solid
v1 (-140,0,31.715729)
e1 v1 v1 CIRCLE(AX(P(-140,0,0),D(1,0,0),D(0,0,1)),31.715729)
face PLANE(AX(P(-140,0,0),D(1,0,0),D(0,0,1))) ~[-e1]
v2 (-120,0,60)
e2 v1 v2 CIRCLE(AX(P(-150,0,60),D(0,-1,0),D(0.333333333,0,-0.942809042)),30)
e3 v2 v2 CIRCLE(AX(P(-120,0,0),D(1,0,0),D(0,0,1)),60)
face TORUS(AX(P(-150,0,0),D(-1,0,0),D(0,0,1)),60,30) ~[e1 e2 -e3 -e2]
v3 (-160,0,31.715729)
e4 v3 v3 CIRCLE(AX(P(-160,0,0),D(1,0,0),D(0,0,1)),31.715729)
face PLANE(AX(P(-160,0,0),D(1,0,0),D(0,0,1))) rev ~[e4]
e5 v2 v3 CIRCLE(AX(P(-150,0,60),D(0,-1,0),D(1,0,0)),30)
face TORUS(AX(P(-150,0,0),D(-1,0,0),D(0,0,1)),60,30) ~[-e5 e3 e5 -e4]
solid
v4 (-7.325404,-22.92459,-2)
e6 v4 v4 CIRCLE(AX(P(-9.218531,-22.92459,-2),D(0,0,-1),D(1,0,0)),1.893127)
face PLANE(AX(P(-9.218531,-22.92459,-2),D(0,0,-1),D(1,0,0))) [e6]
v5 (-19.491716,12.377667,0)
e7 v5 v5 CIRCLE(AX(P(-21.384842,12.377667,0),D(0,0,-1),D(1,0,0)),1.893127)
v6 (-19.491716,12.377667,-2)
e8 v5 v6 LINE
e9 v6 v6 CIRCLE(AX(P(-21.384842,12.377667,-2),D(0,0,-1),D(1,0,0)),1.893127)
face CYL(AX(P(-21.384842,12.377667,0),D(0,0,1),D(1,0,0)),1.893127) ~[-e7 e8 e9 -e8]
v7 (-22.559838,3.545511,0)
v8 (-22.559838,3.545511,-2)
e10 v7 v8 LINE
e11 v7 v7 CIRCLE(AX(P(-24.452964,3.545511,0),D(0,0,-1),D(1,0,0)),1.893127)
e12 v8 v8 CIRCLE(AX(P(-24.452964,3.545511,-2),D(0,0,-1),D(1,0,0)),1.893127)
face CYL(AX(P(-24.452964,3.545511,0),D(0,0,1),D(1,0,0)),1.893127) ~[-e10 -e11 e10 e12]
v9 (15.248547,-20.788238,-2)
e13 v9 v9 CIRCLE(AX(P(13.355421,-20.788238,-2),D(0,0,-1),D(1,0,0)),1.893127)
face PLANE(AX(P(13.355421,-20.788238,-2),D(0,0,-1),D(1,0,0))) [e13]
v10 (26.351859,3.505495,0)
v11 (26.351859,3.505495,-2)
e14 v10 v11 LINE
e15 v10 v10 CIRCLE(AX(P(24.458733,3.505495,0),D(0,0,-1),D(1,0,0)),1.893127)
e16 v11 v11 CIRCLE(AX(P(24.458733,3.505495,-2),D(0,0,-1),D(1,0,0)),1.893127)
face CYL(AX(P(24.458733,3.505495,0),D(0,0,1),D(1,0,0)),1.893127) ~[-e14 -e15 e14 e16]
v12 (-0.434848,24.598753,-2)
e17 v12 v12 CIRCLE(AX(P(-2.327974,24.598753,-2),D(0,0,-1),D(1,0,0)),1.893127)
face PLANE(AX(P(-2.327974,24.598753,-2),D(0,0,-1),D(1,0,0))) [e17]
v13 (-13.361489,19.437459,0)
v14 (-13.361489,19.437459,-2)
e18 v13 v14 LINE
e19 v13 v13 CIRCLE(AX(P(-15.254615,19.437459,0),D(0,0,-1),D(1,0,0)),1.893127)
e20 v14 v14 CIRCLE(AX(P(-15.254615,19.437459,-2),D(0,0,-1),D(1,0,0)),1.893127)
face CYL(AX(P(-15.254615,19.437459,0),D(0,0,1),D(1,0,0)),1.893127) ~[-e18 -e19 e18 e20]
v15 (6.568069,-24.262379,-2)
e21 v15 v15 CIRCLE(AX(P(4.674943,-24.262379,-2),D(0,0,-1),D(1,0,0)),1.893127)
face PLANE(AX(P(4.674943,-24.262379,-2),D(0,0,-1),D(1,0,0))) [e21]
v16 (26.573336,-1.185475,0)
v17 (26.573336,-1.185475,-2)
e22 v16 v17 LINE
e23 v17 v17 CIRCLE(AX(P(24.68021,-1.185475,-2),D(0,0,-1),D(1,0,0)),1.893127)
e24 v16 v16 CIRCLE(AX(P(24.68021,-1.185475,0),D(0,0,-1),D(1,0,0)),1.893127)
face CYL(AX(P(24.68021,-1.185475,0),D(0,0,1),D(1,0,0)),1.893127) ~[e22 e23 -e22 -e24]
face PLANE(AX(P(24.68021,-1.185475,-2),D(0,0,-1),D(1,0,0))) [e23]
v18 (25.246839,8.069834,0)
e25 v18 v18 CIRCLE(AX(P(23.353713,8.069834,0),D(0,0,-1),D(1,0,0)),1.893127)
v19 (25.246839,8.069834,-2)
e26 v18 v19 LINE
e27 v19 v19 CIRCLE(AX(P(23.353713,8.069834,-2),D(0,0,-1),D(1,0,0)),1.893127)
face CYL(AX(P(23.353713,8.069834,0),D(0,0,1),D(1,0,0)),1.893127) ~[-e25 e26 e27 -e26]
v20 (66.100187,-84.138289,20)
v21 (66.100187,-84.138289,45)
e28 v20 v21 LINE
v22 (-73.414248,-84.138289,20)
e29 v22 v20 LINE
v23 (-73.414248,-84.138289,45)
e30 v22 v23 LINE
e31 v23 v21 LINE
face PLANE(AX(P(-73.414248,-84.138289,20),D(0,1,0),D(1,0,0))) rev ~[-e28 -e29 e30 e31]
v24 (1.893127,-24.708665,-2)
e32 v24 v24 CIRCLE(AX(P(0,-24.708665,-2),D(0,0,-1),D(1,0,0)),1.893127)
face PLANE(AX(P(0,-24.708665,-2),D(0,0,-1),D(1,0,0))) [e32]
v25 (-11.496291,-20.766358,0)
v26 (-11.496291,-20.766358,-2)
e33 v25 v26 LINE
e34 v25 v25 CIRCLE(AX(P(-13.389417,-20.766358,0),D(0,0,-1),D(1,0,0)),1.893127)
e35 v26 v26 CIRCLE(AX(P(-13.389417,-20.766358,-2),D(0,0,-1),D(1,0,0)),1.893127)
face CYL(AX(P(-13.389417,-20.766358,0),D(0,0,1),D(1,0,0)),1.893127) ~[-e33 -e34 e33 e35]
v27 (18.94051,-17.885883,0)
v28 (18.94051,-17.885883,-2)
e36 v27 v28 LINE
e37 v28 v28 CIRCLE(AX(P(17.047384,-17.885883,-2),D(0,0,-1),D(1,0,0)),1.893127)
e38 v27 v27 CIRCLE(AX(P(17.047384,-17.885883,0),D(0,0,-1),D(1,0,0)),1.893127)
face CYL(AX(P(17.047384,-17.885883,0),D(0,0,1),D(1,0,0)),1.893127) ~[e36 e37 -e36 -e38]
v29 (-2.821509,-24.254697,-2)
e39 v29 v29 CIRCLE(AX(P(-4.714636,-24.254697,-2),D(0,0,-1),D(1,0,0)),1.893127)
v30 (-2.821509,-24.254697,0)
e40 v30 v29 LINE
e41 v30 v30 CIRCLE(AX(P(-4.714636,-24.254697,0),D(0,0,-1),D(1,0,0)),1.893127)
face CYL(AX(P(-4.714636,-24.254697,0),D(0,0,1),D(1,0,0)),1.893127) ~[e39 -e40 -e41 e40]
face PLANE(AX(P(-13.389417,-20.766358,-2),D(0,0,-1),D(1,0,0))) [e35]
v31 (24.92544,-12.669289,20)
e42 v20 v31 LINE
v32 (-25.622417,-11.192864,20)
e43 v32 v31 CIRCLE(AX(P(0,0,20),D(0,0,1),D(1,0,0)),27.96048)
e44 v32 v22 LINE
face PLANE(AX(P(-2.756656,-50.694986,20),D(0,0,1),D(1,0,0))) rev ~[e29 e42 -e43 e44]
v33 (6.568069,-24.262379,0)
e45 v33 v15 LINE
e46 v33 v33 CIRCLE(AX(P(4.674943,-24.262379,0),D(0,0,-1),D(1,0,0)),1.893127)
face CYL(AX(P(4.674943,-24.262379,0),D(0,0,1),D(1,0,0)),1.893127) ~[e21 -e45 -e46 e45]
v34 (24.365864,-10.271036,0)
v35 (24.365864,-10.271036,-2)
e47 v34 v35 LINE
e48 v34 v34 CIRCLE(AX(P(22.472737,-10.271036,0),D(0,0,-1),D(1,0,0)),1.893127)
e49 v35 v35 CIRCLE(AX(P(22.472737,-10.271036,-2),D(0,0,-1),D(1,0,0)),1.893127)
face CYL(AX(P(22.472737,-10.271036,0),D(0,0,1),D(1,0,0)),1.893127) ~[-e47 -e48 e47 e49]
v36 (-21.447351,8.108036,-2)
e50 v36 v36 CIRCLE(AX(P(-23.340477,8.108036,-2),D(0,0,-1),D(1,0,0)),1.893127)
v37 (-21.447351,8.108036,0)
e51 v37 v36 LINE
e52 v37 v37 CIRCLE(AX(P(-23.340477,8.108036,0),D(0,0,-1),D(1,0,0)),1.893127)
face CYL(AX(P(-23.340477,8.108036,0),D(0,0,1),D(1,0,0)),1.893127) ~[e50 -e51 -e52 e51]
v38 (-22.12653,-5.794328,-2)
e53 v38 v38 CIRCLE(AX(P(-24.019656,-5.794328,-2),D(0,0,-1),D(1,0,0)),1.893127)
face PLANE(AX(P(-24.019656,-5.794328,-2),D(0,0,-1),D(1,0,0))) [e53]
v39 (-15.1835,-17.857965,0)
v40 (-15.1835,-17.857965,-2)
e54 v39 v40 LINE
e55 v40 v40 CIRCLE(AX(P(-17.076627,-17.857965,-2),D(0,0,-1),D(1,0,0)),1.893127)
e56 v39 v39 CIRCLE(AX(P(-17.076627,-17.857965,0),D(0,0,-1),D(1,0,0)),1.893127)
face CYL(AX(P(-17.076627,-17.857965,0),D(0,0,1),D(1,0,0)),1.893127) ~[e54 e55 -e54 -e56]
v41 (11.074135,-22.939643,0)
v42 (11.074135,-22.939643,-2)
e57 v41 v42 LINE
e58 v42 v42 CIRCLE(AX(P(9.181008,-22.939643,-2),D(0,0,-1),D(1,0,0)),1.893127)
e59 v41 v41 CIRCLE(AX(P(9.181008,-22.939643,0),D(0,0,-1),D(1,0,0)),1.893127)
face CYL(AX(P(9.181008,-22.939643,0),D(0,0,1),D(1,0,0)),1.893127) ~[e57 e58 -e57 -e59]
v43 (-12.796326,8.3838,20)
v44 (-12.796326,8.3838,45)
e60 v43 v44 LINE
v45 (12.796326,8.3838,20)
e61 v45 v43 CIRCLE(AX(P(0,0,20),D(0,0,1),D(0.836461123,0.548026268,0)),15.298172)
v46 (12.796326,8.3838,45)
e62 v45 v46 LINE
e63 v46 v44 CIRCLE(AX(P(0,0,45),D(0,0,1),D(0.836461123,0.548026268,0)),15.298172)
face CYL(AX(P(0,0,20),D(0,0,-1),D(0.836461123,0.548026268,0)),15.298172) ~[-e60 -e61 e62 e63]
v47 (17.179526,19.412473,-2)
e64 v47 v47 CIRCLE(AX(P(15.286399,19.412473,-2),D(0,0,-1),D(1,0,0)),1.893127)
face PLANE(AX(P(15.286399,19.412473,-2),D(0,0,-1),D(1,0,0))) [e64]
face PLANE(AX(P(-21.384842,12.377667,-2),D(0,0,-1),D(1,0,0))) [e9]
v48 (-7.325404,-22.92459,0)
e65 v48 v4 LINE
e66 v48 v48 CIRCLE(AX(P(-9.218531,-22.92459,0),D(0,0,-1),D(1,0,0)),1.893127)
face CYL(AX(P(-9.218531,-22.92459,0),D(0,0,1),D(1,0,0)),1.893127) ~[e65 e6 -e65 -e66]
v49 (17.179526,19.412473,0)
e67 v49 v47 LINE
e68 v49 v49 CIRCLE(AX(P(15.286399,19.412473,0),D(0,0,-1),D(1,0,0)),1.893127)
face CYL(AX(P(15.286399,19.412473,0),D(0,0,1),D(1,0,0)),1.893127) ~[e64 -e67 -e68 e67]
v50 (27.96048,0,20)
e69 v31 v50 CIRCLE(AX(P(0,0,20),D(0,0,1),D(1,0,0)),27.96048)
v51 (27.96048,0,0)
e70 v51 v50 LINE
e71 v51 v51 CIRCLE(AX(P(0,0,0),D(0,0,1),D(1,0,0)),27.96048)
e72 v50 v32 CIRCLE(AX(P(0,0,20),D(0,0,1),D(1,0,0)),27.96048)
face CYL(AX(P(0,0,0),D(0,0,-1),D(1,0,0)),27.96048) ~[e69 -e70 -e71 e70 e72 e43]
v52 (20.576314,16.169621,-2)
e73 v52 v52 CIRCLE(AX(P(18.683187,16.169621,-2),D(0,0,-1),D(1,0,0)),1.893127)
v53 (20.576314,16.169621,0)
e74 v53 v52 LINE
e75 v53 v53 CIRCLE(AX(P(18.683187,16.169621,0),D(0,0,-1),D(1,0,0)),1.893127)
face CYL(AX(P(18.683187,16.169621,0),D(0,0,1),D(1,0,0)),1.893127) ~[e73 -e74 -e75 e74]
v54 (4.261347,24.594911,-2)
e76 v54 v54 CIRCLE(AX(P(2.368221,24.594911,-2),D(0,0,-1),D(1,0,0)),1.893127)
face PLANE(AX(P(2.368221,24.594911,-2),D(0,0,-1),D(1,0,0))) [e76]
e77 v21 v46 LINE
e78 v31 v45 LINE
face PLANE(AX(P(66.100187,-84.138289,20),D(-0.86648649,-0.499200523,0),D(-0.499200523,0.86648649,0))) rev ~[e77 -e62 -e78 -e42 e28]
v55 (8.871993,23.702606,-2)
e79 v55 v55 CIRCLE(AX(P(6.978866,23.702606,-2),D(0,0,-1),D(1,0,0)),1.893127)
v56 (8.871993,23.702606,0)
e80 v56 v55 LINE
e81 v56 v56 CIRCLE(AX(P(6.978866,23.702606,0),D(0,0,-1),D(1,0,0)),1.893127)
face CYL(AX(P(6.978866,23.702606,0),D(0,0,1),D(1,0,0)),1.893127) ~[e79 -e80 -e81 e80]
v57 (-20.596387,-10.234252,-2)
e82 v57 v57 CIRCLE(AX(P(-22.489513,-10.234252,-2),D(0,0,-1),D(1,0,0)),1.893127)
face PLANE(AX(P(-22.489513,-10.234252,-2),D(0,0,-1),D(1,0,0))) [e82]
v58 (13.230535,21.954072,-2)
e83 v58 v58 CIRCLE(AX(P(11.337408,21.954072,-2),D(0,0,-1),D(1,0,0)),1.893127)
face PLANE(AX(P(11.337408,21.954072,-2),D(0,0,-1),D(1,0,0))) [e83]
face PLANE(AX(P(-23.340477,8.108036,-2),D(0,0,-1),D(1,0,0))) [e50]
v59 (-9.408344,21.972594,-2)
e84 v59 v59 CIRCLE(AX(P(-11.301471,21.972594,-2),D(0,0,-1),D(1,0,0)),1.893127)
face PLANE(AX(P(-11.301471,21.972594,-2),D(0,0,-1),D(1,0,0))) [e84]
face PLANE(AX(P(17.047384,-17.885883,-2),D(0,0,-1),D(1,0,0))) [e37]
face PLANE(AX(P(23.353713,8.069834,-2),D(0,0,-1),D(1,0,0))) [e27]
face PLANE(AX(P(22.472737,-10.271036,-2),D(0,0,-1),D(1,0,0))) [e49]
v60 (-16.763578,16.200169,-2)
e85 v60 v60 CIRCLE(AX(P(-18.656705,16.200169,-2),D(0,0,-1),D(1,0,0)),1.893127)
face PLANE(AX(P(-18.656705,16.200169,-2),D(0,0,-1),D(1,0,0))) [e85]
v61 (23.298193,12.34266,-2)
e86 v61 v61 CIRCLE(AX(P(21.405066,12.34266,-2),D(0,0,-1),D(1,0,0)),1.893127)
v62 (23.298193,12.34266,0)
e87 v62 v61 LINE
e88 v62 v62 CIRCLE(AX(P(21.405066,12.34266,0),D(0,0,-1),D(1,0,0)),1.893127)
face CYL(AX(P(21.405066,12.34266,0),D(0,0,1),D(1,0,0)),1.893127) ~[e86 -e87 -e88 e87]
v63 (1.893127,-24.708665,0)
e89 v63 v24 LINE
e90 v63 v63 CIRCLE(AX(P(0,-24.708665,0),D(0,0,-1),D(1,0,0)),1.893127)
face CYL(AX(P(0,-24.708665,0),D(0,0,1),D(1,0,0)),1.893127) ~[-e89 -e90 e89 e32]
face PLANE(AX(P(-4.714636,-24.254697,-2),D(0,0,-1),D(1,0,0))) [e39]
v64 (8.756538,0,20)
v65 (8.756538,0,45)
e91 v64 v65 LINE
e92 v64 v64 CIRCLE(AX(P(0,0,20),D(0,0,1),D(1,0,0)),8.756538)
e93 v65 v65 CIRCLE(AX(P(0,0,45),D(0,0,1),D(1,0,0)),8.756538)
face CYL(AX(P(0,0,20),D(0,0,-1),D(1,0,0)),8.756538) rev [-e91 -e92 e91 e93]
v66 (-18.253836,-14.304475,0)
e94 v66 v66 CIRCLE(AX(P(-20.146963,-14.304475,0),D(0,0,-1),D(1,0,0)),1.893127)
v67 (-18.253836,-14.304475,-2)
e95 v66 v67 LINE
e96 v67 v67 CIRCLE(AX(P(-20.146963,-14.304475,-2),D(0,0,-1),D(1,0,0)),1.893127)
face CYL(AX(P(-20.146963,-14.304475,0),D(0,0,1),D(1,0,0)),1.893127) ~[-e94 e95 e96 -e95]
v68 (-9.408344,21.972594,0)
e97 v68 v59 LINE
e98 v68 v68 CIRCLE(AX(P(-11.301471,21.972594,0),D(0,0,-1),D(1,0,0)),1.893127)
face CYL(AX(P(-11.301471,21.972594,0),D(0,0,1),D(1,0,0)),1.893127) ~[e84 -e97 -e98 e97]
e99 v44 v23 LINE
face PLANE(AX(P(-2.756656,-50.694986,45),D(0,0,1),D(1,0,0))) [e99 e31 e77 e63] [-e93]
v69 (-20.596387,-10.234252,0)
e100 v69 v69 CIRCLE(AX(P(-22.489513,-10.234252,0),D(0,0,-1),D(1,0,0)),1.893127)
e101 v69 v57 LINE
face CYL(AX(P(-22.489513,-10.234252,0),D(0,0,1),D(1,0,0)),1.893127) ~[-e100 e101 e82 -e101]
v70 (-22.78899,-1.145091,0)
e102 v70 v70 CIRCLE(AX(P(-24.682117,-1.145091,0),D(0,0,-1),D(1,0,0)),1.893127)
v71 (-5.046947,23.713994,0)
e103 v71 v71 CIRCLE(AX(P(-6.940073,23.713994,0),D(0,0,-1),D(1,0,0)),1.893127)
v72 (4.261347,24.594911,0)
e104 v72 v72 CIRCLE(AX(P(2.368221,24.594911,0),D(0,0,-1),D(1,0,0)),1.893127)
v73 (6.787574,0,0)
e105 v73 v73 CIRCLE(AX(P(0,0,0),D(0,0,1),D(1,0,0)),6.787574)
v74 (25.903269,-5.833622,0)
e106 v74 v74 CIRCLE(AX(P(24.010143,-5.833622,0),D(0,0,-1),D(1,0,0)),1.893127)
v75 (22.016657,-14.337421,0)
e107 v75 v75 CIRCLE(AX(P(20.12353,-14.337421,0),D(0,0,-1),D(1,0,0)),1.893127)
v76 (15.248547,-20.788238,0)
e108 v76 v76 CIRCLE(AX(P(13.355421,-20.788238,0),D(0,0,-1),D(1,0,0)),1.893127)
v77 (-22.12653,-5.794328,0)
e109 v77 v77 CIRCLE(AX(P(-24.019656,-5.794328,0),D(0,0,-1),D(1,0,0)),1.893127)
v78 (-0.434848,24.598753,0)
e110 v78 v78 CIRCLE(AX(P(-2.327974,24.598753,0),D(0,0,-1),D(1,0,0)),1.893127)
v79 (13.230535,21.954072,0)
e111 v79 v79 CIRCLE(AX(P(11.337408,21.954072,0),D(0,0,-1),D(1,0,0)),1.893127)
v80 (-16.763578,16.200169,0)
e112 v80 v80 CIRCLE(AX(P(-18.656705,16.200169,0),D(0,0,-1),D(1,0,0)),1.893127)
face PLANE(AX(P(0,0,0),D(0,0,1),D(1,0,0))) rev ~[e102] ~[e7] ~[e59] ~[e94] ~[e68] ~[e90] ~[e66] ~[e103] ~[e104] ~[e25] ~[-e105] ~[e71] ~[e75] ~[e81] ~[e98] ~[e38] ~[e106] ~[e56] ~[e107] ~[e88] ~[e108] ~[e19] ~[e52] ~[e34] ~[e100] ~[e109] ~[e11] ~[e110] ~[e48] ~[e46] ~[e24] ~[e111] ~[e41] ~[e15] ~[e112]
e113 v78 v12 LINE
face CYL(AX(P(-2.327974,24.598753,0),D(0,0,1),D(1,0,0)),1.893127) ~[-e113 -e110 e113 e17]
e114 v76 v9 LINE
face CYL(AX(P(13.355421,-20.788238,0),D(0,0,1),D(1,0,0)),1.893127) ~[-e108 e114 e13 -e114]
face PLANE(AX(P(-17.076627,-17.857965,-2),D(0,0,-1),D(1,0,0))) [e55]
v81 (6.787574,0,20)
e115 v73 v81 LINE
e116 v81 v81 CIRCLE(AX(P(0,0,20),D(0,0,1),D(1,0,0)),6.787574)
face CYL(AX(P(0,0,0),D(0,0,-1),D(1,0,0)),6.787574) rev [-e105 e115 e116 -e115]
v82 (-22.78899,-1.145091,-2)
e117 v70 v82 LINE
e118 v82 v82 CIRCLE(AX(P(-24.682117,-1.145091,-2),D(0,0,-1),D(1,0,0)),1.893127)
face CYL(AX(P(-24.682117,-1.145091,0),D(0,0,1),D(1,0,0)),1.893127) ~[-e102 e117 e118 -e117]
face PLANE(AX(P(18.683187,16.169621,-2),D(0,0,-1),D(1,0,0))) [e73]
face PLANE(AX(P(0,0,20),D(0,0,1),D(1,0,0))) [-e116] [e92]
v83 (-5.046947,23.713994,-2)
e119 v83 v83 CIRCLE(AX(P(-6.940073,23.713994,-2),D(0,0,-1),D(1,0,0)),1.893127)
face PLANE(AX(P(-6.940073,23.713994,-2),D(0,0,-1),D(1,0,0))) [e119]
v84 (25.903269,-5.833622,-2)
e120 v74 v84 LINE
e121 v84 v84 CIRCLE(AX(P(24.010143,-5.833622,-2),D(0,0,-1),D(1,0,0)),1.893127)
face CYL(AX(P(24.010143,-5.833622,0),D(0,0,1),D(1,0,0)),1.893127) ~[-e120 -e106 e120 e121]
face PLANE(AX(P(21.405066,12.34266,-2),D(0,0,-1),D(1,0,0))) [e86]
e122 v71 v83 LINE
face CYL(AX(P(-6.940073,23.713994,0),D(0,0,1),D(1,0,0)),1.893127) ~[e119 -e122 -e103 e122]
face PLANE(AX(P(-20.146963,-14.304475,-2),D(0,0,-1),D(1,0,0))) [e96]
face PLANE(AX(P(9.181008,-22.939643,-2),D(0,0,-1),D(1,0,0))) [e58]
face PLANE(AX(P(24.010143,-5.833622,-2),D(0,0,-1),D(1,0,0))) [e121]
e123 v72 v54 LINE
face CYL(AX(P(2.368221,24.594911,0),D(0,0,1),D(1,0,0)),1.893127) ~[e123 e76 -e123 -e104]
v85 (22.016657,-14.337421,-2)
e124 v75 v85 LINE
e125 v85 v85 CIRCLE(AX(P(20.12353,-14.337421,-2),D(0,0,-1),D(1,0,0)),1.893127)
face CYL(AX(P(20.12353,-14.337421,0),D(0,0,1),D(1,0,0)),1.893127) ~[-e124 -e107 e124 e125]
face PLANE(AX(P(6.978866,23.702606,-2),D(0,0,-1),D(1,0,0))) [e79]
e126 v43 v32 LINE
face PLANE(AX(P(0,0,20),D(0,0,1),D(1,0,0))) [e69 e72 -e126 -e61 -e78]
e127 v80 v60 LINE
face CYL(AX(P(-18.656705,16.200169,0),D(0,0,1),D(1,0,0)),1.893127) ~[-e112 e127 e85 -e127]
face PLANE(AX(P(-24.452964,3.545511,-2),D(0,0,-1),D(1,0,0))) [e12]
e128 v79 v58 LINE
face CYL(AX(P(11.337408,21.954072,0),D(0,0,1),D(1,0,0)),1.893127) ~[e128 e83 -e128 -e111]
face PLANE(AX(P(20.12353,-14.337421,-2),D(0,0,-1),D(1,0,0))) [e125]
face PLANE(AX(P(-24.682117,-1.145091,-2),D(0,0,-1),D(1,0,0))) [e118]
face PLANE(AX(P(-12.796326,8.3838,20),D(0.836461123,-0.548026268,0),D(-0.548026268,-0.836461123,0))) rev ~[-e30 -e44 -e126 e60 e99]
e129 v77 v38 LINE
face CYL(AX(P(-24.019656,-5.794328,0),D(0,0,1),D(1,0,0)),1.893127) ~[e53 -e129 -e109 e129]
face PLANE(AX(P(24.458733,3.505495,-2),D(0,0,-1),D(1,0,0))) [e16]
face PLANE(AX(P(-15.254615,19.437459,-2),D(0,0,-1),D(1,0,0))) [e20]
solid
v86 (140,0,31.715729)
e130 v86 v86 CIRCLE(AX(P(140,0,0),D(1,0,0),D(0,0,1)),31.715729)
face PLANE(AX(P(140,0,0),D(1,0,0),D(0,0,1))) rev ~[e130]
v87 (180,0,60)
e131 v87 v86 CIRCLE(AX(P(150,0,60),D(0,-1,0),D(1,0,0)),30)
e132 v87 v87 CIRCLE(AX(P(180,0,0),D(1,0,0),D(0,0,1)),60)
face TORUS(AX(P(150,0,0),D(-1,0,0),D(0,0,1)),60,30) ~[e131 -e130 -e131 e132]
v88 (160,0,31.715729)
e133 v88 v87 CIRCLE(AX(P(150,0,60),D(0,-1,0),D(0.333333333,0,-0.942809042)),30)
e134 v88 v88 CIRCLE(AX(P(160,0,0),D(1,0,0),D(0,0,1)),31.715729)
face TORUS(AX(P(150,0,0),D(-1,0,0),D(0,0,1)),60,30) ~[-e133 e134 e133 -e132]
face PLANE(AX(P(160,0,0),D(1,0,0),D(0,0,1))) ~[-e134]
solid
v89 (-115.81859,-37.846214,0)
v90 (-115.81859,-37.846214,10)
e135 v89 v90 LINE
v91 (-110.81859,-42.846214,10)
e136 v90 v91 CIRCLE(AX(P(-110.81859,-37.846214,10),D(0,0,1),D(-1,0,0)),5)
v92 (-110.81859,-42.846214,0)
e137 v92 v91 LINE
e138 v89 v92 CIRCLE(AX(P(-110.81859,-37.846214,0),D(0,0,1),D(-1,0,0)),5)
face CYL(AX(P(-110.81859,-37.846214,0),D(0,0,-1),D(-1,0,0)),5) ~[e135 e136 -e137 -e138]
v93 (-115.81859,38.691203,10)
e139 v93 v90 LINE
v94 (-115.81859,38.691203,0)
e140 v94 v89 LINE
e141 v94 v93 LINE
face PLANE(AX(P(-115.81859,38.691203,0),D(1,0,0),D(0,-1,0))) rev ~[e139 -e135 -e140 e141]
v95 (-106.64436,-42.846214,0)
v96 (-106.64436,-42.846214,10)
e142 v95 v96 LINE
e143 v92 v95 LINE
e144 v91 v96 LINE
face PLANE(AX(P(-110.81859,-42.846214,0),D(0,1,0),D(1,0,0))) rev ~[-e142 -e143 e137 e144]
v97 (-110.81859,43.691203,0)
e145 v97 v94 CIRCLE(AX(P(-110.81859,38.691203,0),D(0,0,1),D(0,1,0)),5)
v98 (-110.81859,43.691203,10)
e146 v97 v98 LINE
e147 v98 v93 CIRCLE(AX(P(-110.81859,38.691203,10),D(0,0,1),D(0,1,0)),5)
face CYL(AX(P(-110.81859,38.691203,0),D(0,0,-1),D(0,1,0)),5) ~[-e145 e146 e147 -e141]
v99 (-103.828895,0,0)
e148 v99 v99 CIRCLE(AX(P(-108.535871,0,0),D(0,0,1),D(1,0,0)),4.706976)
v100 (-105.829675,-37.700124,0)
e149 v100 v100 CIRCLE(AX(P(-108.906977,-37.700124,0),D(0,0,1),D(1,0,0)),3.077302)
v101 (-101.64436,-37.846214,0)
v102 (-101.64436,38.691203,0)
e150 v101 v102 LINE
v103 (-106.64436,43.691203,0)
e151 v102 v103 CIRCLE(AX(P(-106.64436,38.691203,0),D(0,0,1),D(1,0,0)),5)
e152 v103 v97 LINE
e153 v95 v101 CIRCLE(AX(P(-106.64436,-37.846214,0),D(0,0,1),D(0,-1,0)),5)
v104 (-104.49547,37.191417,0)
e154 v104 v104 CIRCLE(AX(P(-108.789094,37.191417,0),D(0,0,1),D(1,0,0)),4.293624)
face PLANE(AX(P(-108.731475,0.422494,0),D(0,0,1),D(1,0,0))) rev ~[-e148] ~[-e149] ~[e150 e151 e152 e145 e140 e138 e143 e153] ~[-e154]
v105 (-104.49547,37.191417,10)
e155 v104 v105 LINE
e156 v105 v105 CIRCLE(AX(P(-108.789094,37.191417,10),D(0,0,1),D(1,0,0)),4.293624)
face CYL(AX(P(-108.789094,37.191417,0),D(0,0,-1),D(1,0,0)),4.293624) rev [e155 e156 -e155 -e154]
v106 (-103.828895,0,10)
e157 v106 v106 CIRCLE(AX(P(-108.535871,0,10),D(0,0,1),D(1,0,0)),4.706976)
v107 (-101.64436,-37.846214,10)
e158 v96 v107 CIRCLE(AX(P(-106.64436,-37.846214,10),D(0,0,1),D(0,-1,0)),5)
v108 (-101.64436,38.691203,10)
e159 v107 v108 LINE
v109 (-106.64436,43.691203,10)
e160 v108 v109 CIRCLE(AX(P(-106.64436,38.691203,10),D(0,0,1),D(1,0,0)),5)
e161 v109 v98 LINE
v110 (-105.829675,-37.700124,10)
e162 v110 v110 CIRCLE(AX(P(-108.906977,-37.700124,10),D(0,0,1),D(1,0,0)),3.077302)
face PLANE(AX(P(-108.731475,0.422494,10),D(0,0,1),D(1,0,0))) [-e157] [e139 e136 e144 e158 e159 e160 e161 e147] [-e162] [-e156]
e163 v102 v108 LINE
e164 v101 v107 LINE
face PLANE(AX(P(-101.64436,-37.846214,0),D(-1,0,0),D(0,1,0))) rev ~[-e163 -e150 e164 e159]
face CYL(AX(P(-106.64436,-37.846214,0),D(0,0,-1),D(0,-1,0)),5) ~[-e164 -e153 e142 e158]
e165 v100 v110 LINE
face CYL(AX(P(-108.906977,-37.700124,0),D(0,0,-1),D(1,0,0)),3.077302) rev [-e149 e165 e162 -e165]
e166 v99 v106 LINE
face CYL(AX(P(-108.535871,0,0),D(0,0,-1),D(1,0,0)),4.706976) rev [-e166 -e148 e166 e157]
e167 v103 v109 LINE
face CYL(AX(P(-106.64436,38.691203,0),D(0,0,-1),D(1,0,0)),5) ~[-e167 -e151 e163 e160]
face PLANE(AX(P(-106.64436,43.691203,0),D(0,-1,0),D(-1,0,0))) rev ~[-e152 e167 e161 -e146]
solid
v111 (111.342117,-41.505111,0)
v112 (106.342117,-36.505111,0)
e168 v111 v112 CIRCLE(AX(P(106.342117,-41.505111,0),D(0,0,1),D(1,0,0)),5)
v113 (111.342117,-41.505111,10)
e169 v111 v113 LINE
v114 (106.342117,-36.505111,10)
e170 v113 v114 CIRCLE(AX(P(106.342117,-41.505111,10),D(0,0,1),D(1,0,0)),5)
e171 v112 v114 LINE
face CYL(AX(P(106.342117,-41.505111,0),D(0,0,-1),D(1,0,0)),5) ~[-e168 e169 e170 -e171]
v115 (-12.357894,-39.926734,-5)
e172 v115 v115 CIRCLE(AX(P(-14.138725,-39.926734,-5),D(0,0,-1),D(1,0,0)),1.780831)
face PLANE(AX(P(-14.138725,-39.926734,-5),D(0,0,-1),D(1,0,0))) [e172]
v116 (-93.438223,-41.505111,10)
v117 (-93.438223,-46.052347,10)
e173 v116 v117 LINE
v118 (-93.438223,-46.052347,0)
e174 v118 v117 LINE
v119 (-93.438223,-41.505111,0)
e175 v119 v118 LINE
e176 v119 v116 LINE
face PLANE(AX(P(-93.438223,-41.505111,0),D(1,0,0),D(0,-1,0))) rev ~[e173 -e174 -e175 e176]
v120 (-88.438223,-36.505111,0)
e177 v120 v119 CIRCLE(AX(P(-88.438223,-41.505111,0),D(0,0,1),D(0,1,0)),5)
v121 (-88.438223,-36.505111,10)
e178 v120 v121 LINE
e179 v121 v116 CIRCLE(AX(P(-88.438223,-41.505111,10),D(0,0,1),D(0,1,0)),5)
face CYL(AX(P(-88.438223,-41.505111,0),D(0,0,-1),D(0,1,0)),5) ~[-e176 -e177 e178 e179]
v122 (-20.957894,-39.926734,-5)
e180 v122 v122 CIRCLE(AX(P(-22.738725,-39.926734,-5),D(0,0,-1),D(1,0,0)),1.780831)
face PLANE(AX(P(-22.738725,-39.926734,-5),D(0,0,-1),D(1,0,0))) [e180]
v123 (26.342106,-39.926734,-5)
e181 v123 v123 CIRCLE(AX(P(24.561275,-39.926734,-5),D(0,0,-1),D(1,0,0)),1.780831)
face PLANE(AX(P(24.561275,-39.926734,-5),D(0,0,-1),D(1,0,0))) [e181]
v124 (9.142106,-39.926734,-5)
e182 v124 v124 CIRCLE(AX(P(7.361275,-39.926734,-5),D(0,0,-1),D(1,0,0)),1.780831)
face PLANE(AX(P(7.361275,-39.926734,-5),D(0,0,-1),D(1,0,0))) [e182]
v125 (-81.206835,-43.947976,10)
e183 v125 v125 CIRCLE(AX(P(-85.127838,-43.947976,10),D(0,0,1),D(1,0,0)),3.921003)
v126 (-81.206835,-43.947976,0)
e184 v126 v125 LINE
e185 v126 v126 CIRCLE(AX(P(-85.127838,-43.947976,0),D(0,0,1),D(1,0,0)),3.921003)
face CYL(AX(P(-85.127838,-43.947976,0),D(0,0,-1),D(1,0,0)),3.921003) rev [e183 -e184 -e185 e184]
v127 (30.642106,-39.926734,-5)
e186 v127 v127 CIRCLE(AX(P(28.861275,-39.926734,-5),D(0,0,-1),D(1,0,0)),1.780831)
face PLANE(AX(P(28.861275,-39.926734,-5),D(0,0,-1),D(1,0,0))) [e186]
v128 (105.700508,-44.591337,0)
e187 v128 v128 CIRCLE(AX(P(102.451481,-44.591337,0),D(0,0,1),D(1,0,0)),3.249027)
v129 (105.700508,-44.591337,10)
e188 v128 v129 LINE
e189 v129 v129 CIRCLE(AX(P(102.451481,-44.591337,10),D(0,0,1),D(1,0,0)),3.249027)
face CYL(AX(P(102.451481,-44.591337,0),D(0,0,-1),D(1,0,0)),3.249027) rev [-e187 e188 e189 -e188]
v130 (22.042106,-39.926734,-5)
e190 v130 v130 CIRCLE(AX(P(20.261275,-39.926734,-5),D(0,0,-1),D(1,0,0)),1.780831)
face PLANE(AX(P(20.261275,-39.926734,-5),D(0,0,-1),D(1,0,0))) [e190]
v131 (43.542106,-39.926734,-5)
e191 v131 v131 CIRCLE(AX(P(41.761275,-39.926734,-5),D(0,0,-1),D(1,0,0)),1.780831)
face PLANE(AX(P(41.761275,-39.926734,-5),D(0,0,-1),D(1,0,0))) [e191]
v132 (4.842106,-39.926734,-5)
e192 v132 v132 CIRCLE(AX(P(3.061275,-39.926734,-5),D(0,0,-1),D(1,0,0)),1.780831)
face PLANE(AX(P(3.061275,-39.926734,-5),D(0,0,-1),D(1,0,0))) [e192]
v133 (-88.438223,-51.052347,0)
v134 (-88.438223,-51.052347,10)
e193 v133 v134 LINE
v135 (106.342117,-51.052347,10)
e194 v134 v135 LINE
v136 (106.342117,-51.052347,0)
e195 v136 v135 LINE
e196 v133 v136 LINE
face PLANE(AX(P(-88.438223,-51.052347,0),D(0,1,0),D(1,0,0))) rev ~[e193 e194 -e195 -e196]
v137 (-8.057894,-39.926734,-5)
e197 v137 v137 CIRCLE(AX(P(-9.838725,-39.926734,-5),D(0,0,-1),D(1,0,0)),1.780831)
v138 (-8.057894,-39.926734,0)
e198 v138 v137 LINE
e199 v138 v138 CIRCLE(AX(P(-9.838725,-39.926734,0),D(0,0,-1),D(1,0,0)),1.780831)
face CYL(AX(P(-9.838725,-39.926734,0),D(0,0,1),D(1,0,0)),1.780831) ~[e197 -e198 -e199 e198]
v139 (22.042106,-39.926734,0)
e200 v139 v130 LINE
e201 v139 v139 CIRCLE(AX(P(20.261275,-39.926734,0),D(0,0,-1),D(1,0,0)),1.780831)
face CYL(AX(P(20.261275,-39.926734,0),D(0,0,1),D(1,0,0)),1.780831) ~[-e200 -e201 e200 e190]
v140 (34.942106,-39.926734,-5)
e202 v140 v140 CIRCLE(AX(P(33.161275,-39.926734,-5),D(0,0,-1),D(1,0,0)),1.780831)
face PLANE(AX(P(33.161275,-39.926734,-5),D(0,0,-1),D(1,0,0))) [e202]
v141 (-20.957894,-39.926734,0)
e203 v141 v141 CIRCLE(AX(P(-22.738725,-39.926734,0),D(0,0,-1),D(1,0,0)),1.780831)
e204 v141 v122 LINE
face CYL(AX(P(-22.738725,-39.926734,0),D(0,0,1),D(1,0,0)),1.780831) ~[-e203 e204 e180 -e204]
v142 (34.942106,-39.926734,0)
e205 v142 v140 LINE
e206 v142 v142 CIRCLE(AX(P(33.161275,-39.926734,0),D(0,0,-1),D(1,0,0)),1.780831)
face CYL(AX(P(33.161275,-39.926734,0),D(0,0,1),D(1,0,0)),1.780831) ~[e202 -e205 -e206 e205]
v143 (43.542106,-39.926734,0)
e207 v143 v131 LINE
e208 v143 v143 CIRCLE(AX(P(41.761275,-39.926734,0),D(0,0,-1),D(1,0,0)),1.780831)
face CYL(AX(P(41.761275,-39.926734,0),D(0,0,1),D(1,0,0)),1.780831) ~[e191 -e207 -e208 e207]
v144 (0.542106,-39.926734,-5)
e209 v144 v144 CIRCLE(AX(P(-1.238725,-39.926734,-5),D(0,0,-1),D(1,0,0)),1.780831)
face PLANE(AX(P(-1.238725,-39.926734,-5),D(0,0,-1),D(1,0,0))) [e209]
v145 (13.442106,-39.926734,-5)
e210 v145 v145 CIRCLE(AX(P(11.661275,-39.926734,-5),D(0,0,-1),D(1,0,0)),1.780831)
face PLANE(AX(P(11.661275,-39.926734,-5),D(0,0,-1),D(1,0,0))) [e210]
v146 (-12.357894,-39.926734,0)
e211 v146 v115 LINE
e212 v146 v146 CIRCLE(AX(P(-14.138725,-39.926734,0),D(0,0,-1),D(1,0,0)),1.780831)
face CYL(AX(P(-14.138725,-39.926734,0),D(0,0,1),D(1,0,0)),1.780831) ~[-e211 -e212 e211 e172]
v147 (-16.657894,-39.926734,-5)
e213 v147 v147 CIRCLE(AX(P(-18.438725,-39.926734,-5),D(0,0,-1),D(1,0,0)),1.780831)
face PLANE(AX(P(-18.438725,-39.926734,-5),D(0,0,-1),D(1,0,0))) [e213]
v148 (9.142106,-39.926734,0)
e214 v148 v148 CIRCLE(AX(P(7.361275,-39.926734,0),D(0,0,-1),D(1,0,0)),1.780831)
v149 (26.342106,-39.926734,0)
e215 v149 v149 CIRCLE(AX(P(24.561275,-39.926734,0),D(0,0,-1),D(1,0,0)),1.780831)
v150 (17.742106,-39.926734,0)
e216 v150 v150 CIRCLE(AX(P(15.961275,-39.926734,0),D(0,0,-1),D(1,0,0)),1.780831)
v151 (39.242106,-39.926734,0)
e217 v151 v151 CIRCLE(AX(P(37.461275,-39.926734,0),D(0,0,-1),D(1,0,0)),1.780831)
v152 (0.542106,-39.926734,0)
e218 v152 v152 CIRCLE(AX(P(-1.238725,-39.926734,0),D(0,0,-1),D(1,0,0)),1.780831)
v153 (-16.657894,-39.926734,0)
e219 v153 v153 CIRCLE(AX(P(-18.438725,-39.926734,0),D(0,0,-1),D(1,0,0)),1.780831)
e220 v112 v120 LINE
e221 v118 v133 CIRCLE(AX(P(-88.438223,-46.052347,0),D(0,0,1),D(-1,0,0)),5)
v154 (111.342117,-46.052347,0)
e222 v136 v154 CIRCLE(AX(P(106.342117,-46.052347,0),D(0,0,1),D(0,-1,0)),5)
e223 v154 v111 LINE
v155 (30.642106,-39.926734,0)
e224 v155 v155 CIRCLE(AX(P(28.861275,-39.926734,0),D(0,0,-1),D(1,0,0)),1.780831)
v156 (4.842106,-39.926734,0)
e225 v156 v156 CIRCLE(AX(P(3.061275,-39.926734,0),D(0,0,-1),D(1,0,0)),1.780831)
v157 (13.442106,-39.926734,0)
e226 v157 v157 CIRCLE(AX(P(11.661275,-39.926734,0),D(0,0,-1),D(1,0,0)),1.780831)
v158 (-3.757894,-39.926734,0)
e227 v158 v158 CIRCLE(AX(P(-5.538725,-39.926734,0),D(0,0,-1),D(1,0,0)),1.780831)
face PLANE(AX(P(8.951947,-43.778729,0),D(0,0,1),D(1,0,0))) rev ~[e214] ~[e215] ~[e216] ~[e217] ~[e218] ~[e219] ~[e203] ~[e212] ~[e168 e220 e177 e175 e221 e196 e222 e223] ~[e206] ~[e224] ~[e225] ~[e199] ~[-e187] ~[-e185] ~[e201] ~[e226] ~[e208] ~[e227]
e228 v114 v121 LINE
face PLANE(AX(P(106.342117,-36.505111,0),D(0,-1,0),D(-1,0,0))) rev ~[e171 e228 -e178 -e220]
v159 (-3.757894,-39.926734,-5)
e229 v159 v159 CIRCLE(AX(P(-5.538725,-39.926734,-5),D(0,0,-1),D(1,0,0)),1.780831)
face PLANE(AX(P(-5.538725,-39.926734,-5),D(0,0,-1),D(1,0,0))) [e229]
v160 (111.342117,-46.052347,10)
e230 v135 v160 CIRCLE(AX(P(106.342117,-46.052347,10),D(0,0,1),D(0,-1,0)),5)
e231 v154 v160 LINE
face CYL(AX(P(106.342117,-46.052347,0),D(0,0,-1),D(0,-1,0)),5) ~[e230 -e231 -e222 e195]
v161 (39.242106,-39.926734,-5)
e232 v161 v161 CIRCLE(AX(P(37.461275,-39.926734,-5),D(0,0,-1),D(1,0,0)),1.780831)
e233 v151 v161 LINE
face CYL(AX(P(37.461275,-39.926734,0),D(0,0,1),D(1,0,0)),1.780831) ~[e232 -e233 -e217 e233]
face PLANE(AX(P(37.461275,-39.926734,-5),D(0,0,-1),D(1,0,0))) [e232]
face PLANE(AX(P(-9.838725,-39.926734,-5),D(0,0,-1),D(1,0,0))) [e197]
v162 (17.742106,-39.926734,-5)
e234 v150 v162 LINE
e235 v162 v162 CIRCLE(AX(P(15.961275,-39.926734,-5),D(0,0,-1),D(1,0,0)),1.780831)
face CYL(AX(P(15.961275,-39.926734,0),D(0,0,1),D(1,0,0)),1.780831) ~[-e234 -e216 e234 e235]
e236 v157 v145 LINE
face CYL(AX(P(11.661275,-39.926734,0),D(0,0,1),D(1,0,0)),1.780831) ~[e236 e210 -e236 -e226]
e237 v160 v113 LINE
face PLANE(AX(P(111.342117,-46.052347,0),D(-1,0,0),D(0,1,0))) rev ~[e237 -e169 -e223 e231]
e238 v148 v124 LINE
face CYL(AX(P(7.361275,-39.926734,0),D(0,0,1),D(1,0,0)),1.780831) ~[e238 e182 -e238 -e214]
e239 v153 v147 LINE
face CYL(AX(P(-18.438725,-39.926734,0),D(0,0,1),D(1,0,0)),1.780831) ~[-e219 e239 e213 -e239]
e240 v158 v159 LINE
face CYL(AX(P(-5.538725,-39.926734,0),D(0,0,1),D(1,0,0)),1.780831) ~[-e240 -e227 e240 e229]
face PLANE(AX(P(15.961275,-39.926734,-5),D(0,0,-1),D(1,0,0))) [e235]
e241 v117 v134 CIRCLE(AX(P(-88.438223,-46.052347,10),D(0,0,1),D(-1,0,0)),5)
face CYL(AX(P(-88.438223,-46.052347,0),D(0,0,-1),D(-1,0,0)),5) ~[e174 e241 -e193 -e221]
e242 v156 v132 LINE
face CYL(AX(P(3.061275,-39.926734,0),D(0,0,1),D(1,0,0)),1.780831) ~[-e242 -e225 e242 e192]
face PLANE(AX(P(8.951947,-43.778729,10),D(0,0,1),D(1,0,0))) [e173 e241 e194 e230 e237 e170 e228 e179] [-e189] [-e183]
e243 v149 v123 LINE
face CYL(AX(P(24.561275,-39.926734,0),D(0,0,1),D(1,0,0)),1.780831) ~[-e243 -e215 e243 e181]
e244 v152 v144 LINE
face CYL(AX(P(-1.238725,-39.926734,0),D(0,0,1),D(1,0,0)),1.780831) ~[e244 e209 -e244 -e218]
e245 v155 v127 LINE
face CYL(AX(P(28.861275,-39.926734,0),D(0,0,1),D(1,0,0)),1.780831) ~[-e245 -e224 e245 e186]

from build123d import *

# Parameters (mm, degrees)
F2_R      = 3.0773021281
F2_R_2    = 4.7069755099
F2_R_3    = 4.2936239123
F3_DEPTH  = 10
F2_R_4    = 3.9210033562
F2_R_5    = 3.2490268932
F4_R      = 27.9604797081
F4_R_2    = 6.7875740925
F5_DEPTH  = 20
F6_R      = 8.7565384721
F7_DEPTH  = 25
F8_R      = 1.8931265206
F10_DEPTH = 2
F9_R      = 1.7808307087
F11_DEPTH = 5


with BuildPart() as f1:
    # F0 (on Front) → F1 (revolve)
    with BuildSketch(Plane.XZ):
        with BuildLine():
            ThreePointArc((-140, 31.7157287525), (-125.5051025722, 42.6794919243), (-120, 60))
            ThreePointArc((-120, 60), (-167.3205080757, 84.4948974278), (-160, 31.7157287525))
            Line((-160, 31.7157287525), (-150, 31.7157287525))
            Line((-150, 31.7157287525), (-140, 31.7157287525))
        make_face()
        with BuildLine():
            Line((-150, 31.7157287525), (-160, 31.7157287525))
            ThreePointArc((-160, 31.7157287525), (-150, 30), (-140, 31.7157287525))
            Line((-140, 31.7157287525), (-150, 31.7157287525))
        make_face()
        with BuildLine():
            ThreePointArc((-140, 31.7157287525), (-150, 30), (-160, 31.7157287525))
            Line((-160, 31.7157287525), (-160, 0))
            Line((-160, 0), (-140, 0))
            Line((-140, 0), (-140, 31.7157287525))
        make_face()
    revolve(axis=Axis((-150, 0, 0), (1, 0, 0)))


with BuildPart() as f1b:
    # F0 (on Front) → F1, piece 2 (revolve)
    with BuildSketch(Plane.XZ):
        with BuildLine():
            ThreePointArc((140, 31.7157287525), (150, 30), (160, 31.7157287525))
            Line((160, 31.7157287525), (140, 31.7157287525))
        make_face()
        with BuildLine():
            Line((160, 0), (160, 31.7157287525))
            ThreePointArc((160, 31.7157287525), (150, 30), (140, 31.7157287525))
            Line((140, 31.7157287525), (140, 0))
            Line((140, 0), (160, 0))
        make_face()
        with BuildLine():
            Line((140, 31.7157287525), (160, 31.7157287525))
            ThreePointArc((160, 31.7157287525), (174.4948974278, 42.6794919243), (180, 60))
            ThreePointArc((180, 60), (132.6794919243, 84.4948974278), (140, 31.7157287525))
        make_face()
    revolve(axis=Axis((-150, 0, 0), (1, 0, 0)))


with BuildPart() as f3:
    # F2 (on Top) → F3 (new body)
    with BuildSketch(Plane.XY):
        with BuildLine():
            ThreePointArc((-115.8185899258, -37.8462140262), (-114.3541238317, -41.3817479321), (-110.8185899258, -42.8462140262))
            Line((-110.8185899258, -42.8462140262), (-106.644359529, -42.8462140262))
            ThreePointArc((-106.644359529, -42.8462140262), (-103.1088256231, -41.3817479321), (-101.644359529, -37.8462140262))
            Line((-101.644359529, -37.8462140262), (-101.644359529, 38.6912029982))
            ThreePointArc((-101.644359529, 38.6912029982), (-103.1088256231, 42.2267369041), (-106.644359529, 43.6912029982))
            Line((-106.644359529, 43.6912029982), (-110.8185899258, 43.6912029982))
            ThreePointArc((-110.8185899258, 43.6912029982), (-114.3541238317, 42.2267369041), (-115.8185899258, 38.6912029982))
            Line((-115.8185899258, 38.6912029982), (-115.8185899258, -37.8462140262))
        make_face()
        with Locations((-108.9069768786, -37.7001240849)):
            Circle(F2_R, mode=Mode.SUBTRACT)
        with Locations((-108.5358709097, 0)):
            Circle(F2_R_2, mode=Mode.SUBTRACT)
        with Locations((-108.7890937924, 37.1914170682)):
            Circle(F2_R_3, mode=Mode.SUBTRACT)
    extrude(amount=F3_DEPTH)


with BuildPart() as f3b:
    # F2 (on Top) → F3, piece 2 (new body)
    with BuildSketch(Plane.XY):
        with BuildLine():
            ThreePointArc((-93.4382230043, -46.0523468256), (-91.9737569103, -49.5878807315), (-88.4382230043, -51.0523468256))
            Line((-88.4382230043, -51.0523468256), (106.3421171904, -51.0523468256))
            ThreePointArc((106.3421171904, -51.0523468256), (109.8776510963, -49.5878807315), (111.3421171904, -46.0523468256))
            Line((111.3421171904, -46.0523468256), (111.3421171904, -41.5051105618))
            ThreePointArc((111.3421171904, -41.5051105618), (109.8776510963, -37.9695766559), (106.3421171904, -36.5051105618))
            Line((106.3421171904, -36.5051105618), (-88.4382230043, -36.5051105618))
            ThreePointArc((-88.4382230043, -36.5051105618), (-91.9737569103, -37.9695766559), (-93.4382230043, -41.5051105618))
            Line((-93.4382230043, -41.5051105618), (-93.4382230043, -46.0523468256))
        make_face()
        with Locations((-85.127837956, -43.9479760826)):
            Circle(F2_R_4, mode=Mode.SUBTRACT)
        with Locations((102.4514809251, -44.5913374424)):
            Circle(F2_R_5, mode=Mode.SUBTRACT)
    extrude(amount=F3_DEPTH)

    # F9 (on face) → F11 (join)
    with BuildSketch(Plane(origin=(0, 0, 0), x_dir=(1, 0, 0), z_dir=(0, 0, -1))):
        with Locations((-22.738724947, 39.9267338216)):
            Circle(F9_R)
        with Locations((-18.438724947, 39.9267338216)):
            Circle(F9_R)
        with Locations((-14.138724947, 39.9267338216)):
            Circle(F9_R)
        with Locations((-9.838724947, 39.9267338216)):
            Circle(F9_R)
        with Locations((-5.538724947, 39.9267338216)):
            Circle(F9_R)
        with Locations((-1.238724947, 39.9267338216)):
            Circle(F9_R)
        with Locations((3.061275053, 39.9267338216)):
            Circle(F9_R)
        with Locations((7.361275053, 39.9267338216)):
            Circle(F9_R)
        with Locations((11.661275053, 39.9267338216)):
            Circle(F9_R)
        with Locations((15.961275053, 39.9267338216)):
            Circle(F9_R)
        with Locations((20.261275053, 39.9267338216)):
            Circle(F9_R)
        with Locations((24.561275053, 39.9267338216)):
            Circle(F9_R)
        with Locations((28.861275053, 39.9267338216)):
            Circle(F9_R)
        with Locations((33.161275053, 39.9267338216)):
            Circle(F9_R)
        with Locations((37.461275053, 39.9267338216)):
            Circle(F9_R)
        with Locations((41.761275053, 39.9267338216)):
            Circle(F9_R)
    extrude(amount=F11_DEPTH)


with BuildPart() as f5:
    # F4 (on Top) → F5 (new body)
    with BuildSketch(Plane.XY):
        Circle(F4_R)
        Circle(F4_R_2, mode=Mode.SUBTRACT)
    extrude(amount=F5_DEPTH)

    # F6 (on face) → F7 (join)
    with BuildSketch(Plane.XY.offset(20)):
        with BuildLine():
            Line((-12.7963262437, 8.3838001825), (-73.414248221, -84.1382887214))
            Line((-73.414248221, -84.1382887214), (66.100186965, -84.1382887214))
            Line((66.100186965, -84.1382887214), (12.7963262437, 8.3838001825))
            ThreePointArc((12.7963262437, 8.3838001825), (0, 15.2981721404), (-12.7963262437, 8.3838001825))
        make_face()
        Circle(F6_R, mode=Mode.SUBTRACT)
    extrude(amount=F7_DEPTH)

    # F8 (on face) → F10 (join)
    with BuildSketch(Plane(origin=(0, 0, 0), x_dir=(1, 0, 0), z_dir=(0, 0, -1))):
        with Locations((0, 24.7086647651)):
            Circle(F8_R)
        with Locations((4.6749425522, 24.2623788324)):
            Circle(F8_R)
        with Locations((9.1810082253, 22.9396425962)):
            Circle(F8_R)
        with Locations((13.3554206214, 20.7882383693)):
            Circle(F8_R)
        with Locations((17.0473839329, 17.885883135)):
            Circle(F8_R)
        with Locations((20.123530266, 14.3374211107)):
            Circle(F8_R)
        with Locations((22.4727374012, 10.2710363728)):
            Circle(F8_R)
        with Locations((24.0101429544, 5.8336223551)):
            Circle(F8_R)
        with Locations((24.6802099328, 1.1854754937)):
            Circle(F8_R)
        with Locations((24.4587329436, -3.5054952953)):
            Circle(F8_R)
        with Locations((23.3537125863, -8.0698341314)):
            Circle(F8_R)
        with Locations((21.4050664401, -12.3426595663)):
            Circle(F8_R)
        with Locations((18.6831870875, -16.1696207354)):
            Circle(F8_R)
        with Locations((15.2863992642, -19.4124731039)):
            Circle(F8_R)
        with Locations((11.3374079918, -21.9540723899)):
            Circle(F8_R)
        with Locations((6.9788660012, -23.7026062662)):
            Circle(F8_R)
        with Locations((2.3682205682, -24.5949109739)):
            Circle(F8_R)
        with Locations((-2.3279740869, -24.59875304)):
            Circle(F8_R)
        with Locations((-6.9400733774, -23.7139936744)):
            Circle(F8_R)
        with Locations((-11.301470564, -21.9725937833)):
            Circle(F8_R)
        with Locations((-15.2546152304, -19.4374594185)):
            Circle(F8_R)
        with Locations((-18.656704609, -16.2001693697)):
            Circle(F8_R)
        with Locations((-21.3848421657, -12.3776669862)):
            Circle(F8_R)
        with Locations((-23.3404770946, -8.1080357345)):
            Circle(F8_R)
        with Locations((-24.4529643512, -3.545511093)):
            Circle(F8_R)
        with Locations((-24.6821166235, 1.1450910257)):
            Circle(F8_R)
        with Locations((-24.0196560512, 5.7943280589)):
            Circle(F8_R)
        with Locations((-22.4895132545, 10.2342517093)):
            Circle(F8_R)
        with Locations((-20.1469628676, 14.3044748832)):
            Circle(F8_R)
        with Locations((-17.0766268072, 17.8579654877)):
            Circle(F8_R)
        with Locations((-13.3894174034, 20.766357795)):
            Circle(F8_R)
        with Locations((-9.2185308208, 22.9245895052)):
            Circle(F8_R)
        with Locations((-4.7146355009, 24.2546970001)):
            Circle(F8_R)
    extrude(amount=F10_DEPTH)


solid = Compound([f1.part, f1b.part, f3.part, f3b.part, f5.part])
